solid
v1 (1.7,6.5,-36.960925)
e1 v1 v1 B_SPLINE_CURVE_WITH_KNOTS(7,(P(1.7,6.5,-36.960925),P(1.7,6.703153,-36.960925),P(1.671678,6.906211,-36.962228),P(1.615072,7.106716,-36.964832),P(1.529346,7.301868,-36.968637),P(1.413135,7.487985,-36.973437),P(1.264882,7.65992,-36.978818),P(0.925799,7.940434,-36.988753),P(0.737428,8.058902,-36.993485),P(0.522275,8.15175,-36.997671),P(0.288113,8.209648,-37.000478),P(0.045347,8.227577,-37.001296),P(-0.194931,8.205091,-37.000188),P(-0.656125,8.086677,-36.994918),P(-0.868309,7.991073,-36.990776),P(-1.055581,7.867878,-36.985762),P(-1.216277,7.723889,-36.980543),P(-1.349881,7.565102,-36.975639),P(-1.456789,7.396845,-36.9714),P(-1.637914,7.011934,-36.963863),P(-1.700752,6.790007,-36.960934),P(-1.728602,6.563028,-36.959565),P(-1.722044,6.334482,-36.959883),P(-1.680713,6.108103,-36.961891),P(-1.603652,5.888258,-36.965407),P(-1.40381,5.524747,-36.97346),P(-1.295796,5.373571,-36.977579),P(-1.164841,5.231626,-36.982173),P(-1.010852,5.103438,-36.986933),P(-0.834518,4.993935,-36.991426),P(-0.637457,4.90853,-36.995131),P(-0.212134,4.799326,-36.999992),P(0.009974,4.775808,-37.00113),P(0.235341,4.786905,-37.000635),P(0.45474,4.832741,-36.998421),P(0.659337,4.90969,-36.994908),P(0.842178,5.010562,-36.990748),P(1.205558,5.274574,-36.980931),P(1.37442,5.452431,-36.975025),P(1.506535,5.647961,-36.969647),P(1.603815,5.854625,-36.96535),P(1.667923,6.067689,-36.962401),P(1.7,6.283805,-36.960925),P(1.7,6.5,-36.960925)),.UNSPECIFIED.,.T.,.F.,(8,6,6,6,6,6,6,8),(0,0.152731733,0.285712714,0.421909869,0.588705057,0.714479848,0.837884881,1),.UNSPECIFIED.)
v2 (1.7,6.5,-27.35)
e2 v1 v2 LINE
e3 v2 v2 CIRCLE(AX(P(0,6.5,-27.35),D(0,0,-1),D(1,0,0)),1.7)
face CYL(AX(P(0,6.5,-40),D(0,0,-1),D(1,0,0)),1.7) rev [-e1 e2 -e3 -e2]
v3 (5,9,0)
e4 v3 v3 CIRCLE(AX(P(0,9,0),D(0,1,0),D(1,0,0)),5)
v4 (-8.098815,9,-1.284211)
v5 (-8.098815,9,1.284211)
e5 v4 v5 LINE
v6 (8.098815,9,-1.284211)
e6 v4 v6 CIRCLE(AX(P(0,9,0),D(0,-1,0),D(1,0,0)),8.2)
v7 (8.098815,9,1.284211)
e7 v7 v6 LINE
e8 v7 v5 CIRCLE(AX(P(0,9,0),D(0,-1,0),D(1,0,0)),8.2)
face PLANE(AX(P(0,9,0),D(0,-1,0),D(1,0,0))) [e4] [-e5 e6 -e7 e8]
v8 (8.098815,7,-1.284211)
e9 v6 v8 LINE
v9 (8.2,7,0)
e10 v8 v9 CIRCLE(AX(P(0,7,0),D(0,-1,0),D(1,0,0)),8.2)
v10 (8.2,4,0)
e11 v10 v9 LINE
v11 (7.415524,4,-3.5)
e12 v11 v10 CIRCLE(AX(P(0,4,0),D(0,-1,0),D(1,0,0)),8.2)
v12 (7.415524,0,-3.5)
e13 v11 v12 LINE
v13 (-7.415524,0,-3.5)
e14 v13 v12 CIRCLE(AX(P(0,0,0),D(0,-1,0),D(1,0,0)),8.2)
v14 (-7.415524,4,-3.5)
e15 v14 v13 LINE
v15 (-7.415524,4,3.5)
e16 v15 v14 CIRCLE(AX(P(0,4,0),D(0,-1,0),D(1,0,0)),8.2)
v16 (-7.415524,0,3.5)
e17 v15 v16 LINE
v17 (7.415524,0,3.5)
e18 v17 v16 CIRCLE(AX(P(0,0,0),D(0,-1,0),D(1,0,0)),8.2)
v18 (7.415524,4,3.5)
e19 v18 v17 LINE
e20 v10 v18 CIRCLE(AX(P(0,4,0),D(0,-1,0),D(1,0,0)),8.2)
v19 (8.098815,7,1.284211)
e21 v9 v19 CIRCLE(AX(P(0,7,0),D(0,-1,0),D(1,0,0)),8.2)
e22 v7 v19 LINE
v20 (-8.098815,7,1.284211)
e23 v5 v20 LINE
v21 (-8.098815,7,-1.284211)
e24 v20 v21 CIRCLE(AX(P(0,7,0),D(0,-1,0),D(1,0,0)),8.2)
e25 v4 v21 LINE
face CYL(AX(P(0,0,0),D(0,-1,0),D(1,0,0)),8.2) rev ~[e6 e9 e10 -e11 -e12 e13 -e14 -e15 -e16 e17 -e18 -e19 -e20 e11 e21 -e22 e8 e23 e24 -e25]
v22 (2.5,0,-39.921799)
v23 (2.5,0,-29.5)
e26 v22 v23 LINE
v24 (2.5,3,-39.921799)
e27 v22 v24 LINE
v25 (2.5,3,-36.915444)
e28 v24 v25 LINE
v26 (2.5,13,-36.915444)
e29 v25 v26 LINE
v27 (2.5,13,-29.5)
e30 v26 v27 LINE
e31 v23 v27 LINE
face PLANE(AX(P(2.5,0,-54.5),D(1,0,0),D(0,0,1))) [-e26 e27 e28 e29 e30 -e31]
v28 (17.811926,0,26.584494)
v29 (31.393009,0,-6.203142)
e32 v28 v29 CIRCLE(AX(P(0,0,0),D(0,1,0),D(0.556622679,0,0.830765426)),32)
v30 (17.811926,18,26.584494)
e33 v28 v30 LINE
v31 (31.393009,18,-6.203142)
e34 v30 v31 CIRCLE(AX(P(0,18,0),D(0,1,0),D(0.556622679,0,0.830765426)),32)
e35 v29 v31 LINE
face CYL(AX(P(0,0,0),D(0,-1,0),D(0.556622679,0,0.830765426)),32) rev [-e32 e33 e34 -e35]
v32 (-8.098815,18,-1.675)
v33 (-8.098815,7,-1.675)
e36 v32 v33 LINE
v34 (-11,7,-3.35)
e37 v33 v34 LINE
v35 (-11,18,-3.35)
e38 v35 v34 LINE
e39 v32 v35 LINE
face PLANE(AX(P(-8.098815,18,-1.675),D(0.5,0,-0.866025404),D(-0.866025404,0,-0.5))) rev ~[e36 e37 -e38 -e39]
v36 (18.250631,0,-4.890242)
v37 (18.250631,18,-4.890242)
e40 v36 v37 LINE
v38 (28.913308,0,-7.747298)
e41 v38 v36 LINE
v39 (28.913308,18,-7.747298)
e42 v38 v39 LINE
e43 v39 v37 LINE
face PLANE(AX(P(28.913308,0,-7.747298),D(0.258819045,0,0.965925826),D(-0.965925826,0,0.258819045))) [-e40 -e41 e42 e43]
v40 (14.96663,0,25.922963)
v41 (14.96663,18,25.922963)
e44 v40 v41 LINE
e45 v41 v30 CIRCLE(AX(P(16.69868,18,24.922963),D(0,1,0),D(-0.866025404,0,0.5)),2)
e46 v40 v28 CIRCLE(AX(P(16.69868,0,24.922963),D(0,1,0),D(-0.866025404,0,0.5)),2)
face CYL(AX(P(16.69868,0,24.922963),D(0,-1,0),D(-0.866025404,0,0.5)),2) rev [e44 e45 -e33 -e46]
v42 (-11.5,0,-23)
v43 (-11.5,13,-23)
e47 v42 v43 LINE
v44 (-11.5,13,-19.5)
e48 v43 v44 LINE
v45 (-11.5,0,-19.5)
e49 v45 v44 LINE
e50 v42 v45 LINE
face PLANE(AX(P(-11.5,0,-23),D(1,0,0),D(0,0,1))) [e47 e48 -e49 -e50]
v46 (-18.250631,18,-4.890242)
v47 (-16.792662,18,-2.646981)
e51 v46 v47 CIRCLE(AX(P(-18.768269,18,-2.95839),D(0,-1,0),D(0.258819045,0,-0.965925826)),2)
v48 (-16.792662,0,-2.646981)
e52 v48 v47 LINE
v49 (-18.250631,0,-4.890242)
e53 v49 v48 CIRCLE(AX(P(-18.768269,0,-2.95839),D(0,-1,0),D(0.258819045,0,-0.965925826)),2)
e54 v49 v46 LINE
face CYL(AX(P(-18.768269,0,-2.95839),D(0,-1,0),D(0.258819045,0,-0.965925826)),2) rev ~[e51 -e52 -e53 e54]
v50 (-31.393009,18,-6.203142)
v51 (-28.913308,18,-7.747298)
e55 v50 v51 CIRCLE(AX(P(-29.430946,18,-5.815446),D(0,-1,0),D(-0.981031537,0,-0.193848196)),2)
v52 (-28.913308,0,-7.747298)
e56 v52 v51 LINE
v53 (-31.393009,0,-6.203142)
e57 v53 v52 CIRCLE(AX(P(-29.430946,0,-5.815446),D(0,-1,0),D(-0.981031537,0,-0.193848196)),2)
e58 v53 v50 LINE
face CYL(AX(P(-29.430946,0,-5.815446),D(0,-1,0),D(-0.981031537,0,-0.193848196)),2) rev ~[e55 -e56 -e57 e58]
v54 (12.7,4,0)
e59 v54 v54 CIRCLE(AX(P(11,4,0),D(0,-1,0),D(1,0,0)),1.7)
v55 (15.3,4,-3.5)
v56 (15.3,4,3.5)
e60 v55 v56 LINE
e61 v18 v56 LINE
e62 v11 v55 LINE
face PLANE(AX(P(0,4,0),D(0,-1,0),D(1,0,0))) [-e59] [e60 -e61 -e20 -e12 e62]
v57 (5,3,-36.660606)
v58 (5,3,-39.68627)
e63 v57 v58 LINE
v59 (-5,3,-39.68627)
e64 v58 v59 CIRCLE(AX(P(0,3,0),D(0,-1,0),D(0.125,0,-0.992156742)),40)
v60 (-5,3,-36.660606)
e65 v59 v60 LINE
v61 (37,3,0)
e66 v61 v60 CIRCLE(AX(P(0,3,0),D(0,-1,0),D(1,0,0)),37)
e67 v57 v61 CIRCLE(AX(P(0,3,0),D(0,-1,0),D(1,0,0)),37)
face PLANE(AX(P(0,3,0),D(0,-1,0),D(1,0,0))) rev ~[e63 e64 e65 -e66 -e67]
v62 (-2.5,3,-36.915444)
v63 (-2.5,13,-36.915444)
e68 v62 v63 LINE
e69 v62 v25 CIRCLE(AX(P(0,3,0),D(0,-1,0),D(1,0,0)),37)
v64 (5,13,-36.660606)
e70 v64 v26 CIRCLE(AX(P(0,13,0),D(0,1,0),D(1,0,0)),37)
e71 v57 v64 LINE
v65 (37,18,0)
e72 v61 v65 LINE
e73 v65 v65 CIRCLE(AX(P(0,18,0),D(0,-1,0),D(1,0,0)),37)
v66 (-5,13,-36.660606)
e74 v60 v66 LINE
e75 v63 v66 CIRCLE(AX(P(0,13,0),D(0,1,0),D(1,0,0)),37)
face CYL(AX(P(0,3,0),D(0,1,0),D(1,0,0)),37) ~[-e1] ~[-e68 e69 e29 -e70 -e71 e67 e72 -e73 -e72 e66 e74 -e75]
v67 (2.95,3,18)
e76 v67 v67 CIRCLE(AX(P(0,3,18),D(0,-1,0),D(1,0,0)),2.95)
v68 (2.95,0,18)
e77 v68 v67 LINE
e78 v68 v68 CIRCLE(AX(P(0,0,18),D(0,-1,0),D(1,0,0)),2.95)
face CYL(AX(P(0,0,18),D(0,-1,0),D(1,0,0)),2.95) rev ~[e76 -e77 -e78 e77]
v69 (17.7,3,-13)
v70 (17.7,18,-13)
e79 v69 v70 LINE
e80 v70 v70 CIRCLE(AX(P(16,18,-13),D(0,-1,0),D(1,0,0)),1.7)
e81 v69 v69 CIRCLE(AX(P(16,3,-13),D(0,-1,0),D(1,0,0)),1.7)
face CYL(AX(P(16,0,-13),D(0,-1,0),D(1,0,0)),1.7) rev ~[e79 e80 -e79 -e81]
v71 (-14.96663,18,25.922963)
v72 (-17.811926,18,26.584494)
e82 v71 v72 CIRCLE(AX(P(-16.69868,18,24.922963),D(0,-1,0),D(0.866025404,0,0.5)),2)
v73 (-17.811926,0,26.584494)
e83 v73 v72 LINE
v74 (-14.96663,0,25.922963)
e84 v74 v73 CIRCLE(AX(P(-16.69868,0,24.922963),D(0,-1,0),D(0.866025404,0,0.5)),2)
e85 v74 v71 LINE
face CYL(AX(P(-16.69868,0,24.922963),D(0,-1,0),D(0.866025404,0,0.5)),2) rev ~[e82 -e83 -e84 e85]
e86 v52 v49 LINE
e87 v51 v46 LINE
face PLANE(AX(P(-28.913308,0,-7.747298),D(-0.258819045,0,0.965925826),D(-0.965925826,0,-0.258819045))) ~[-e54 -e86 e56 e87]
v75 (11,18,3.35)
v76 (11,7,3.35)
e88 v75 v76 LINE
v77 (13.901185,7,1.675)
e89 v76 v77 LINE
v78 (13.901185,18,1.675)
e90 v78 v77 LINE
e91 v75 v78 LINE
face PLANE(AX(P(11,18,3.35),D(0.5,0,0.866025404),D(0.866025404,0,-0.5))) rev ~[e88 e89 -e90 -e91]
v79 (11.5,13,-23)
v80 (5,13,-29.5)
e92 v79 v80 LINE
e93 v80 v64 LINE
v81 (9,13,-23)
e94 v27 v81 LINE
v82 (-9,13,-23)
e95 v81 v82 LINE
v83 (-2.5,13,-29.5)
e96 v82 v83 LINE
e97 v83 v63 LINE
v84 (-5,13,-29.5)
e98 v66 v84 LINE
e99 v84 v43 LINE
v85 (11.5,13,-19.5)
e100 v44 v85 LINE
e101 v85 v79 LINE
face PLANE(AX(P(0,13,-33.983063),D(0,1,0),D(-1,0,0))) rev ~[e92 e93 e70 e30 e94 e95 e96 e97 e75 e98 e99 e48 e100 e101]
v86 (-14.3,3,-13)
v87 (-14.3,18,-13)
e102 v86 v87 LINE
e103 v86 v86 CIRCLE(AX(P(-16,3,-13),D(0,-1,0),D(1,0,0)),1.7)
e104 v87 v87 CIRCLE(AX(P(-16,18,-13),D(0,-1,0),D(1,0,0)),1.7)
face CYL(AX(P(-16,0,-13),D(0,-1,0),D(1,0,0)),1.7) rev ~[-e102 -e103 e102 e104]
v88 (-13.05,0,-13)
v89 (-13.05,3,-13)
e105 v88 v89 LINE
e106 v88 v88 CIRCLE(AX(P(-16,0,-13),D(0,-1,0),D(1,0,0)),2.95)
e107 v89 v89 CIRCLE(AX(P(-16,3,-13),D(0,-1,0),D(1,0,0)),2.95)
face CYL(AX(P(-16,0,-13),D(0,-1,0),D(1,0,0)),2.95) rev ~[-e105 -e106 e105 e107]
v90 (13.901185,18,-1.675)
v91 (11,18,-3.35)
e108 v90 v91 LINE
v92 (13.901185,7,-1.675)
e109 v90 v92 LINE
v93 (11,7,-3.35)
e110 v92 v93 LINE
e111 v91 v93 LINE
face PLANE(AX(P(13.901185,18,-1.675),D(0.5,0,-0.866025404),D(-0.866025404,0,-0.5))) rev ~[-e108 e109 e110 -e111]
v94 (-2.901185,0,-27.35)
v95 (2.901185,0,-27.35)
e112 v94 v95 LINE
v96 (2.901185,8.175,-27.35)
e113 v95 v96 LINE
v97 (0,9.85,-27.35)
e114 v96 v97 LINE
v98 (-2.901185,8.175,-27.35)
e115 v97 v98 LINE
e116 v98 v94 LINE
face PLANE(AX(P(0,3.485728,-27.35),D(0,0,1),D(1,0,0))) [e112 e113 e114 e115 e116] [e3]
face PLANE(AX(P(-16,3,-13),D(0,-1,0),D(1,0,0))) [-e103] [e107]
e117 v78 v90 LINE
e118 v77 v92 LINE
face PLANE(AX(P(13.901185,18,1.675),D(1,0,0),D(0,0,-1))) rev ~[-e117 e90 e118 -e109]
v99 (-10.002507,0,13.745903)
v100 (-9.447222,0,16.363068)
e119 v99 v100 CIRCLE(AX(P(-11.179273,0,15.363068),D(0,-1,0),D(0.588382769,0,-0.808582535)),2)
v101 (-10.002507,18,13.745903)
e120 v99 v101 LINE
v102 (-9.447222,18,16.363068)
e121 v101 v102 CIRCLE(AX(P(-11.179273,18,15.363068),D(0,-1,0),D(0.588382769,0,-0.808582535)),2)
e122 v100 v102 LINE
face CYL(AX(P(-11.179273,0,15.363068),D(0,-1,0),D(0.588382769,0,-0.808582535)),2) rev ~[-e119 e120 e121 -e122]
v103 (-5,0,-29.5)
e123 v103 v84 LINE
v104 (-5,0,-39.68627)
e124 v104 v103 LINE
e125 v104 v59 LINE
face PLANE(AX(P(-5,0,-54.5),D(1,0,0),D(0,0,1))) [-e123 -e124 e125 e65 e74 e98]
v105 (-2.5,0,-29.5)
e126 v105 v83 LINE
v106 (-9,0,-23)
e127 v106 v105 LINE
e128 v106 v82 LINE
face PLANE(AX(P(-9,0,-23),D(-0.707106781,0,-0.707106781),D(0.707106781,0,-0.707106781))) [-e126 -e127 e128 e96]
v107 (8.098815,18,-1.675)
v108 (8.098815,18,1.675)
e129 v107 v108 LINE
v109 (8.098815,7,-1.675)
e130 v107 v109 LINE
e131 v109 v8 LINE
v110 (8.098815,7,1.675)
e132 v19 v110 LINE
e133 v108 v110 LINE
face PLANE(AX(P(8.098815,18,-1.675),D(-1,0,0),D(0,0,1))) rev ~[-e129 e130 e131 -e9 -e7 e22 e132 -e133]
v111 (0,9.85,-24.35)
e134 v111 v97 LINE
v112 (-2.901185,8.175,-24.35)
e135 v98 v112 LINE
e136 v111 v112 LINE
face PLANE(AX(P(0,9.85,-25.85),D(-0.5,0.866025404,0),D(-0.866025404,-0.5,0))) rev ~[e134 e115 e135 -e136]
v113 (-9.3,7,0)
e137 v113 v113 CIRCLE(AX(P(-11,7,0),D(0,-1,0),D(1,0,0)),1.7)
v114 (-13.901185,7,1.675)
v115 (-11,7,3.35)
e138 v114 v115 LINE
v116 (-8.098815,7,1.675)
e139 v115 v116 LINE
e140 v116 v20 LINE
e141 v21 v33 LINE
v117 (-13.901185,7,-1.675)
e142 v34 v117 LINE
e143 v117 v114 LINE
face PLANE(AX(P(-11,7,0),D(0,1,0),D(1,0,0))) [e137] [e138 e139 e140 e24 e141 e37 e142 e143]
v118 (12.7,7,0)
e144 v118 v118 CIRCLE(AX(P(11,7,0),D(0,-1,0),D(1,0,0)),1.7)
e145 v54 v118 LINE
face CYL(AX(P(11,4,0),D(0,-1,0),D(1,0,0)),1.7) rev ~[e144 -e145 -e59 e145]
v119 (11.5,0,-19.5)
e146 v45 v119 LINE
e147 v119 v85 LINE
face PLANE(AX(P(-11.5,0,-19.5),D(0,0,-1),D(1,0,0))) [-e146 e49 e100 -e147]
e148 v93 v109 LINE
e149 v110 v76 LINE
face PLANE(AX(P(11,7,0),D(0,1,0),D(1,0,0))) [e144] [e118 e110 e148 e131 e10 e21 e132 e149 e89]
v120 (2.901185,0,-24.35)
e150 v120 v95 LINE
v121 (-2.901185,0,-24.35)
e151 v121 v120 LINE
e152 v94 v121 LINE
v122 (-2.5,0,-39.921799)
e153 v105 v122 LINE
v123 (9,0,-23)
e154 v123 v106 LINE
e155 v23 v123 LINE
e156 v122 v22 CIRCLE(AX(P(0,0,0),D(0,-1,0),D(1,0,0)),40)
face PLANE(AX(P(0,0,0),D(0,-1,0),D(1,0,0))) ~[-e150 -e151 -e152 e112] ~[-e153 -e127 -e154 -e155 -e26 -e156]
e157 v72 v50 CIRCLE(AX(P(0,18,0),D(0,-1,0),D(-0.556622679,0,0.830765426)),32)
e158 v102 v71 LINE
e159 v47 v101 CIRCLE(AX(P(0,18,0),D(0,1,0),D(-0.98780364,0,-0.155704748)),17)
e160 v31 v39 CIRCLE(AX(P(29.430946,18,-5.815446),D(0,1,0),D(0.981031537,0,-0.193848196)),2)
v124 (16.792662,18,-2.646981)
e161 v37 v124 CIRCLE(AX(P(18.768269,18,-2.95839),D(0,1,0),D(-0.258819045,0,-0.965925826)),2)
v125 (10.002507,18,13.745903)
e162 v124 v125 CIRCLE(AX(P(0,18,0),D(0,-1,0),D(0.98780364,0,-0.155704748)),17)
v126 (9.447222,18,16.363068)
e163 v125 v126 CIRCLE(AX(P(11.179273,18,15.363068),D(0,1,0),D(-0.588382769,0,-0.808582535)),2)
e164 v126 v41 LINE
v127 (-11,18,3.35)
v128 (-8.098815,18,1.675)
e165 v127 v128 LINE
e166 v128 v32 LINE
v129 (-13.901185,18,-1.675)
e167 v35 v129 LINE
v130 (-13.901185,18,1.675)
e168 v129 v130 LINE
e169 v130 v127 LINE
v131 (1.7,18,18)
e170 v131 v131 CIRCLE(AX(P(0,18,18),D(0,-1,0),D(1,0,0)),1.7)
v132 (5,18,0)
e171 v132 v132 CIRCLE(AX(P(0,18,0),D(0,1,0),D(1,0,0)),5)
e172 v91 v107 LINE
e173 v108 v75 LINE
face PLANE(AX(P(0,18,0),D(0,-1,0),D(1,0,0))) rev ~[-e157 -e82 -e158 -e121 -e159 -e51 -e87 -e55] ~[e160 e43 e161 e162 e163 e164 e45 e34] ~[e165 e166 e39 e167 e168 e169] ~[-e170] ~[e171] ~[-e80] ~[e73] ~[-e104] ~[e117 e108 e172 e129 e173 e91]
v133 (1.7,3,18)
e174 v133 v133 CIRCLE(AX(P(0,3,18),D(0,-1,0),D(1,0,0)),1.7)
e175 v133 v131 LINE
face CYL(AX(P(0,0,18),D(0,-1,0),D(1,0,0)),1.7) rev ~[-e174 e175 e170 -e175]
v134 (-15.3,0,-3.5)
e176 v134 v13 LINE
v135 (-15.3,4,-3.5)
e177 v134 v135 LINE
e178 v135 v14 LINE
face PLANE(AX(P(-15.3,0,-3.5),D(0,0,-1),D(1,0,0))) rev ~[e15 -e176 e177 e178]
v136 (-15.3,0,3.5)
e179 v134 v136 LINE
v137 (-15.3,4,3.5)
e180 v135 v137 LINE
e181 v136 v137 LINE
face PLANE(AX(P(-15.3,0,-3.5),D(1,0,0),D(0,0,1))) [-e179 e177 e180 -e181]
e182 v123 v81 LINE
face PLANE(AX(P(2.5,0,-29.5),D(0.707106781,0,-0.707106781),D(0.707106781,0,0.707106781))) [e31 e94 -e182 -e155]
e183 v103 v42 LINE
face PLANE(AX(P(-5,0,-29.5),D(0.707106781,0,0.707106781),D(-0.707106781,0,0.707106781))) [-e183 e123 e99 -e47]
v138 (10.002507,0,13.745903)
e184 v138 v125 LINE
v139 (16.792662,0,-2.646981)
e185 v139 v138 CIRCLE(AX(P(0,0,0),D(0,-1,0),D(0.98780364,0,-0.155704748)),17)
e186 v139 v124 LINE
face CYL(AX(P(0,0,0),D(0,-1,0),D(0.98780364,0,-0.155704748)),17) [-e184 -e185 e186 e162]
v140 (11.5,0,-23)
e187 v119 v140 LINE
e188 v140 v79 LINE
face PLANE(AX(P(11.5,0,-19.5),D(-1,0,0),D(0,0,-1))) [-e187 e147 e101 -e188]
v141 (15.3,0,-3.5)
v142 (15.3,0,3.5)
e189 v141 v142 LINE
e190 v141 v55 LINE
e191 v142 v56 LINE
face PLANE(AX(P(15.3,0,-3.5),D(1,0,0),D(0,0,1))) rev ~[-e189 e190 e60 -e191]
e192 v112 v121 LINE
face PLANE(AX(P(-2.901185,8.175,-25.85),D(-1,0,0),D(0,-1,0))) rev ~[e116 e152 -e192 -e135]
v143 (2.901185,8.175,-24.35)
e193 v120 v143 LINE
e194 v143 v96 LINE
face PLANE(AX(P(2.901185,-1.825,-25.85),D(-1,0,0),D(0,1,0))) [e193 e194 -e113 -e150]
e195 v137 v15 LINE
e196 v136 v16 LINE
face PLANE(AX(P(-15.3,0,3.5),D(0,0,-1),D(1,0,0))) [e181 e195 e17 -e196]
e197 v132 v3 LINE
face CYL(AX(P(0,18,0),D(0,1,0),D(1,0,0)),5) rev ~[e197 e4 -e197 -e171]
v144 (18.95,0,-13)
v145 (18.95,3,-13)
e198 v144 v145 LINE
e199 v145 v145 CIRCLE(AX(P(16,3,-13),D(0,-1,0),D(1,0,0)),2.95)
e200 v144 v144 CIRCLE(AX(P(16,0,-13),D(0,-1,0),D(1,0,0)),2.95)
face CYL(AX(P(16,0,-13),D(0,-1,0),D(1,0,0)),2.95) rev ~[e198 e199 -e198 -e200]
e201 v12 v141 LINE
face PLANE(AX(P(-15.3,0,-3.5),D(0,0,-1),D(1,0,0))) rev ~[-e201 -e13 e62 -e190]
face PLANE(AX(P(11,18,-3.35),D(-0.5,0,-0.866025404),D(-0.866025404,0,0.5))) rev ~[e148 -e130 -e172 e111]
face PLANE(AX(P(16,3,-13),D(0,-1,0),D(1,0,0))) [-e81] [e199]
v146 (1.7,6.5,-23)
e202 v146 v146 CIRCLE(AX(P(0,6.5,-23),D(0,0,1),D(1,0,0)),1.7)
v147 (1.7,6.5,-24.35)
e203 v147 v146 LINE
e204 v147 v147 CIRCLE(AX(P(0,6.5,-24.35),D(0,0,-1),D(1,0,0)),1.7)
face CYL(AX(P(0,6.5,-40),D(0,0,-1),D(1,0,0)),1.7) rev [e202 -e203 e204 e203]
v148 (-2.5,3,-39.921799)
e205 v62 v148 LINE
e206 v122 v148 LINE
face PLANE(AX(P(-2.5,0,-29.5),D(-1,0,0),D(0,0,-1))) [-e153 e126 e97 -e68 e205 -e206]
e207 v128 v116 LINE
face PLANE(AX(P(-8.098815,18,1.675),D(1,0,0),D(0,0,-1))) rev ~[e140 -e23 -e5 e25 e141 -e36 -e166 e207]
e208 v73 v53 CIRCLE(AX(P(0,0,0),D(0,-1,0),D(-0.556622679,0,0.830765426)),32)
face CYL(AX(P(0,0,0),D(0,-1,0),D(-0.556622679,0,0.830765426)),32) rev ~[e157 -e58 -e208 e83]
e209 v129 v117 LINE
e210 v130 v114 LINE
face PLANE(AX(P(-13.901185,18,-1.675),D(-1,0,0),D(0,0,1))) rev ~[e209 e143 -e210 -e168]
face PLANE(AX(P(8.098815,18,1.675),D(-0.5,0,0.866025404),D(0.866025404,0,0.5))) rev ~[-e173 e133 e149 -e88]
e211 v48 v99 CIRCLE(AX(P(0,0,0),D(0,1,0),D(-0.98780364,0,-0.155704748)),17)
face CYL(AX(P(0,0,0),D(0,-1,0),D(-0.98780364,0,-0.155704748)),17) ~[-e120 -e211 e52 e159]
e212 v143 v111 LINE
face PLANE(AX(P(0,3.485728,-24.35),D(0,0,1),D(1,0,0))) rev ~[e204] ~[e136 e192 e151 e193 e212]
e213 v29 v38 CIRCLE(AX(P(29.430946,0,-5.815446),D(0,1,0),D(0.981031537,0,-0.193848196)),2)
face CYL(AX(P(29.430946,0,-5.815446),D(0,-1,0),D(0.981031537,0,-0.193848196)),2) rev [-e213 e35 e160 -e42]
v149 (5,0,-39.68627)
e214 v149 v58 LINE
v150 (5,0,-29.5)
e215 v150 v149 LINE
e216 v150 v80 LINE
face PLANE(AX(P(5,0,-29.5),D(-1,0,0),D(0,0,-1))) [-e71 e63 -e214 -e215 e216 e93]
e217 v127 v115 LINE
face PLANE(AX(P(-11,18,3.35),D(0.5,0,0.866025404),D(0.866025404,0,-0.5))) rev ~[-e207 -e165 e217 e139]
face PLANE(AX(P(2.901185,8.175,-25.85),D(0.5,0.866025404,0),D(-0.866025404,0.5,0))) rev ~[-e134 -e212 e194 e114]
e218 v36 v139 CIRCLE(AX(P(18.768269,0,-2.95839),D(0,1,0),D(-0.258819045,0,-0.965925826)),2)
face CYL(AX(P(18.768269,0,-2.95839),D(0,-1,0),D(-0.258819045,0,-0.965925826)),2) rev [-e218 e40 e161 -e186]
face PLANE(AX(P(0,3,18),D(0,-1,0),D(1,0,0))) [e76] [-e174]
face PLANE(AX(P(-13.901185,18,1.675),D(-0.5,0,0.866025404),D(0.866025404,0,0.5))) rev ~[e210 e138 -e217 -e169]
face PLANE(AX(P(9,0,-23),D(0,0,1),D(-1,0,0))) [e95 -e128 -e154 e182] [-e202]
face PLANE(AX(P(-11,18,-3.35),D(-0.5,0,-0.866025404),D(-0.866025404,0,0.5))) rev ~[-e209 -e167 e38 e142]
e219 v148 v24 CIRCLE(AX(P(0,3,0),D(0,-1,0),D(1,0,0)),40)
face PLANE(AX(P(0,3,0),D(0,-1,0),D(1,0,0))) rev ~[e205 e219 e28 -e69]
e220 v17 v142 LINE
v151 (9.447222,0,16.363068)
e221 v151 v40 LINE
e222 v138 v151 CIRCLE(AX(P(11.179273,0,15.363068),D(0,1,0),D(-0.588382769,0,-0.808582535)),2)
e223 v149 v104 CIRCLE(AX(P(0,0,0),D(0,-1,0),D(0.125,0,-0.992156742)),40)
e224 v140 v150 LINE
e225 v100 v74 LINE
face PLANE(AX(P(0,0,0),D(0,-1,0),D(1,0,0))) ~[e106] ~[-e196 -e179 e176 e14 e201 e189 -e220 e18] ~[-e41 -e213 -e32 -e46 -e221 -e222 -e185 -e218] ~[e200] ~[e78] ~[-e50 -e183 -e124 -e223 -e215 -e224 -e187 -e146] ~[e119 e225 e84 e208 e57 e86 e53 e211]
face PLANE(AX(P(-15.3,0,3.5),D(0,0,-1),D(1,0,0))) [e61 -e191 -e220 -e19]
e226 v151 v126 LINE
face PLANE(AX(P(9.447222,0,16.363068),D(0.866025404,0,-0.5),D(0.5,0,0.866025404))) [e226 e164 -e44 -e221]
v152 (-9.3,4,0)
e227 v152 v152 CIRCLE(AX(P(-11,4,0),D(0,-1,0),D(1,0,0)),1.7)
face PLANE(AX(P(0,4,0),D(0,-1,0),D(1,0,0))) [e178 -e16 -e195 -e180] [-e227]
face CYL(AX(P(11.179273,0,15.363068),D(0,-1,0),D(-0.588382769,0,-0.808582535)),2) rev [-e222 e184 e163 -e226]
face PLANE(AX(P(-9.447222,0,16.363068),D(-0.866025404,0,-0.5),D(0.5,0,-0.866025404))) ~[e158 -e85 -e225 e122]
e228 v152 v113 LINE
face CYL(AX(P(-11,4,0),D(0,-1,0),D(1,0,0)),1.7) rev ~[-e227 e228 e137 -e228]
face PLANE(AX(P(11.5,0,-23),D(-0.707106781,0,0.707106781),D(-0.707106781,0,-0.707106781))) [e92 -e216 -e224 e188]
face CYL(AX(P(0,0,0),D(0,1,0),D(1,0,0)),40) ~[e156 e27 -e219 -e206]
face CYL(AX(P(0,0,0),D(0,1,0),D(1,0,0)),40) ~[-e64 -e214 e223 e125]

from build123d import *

# Parameters (mm, degrees)
CORTAR_EXTRUIR1_DEPTH      = 13
CROQUIS3_R                 = 1.7
CORTAR_EXTRUIR2_DEPTH      = 17
CORTAR_EXTRUIR3_DEPTH      = 1.5
CORTAR_EXTRUIR3_DEPTH_BACK = 1.5
CROQUIS5_R                 = 5
CORTAR_EXTRUIR4_DEPTH      = 18
CROQUIS6_R                 = 8.2
CORTAR_EXTRUIR5_DEPTH      = 9
CROQUIS7_W                 = 30.6
CROQUIS7_H                 = 7
CORTAR_EXTRUIR6_DEPTH      = 4
CROQUIS8_R                 = 1.7
CORTAR_EXTRUIR7_DEPTH      = 14
CORTAR_EXTRUIR8_DEPTH      = 11
CORTAR_EXTRUIR9_DEPTH      = 18
CROQUIS11_R                = 1.7
CORTAR_EXTRUIR10_DEPTH     = 18
CROQUIS12_R                = 2.95
CORTAR_EXTRUIR11_DEPTH     = 3


with BuildPart() as part:
    # Croquis1 → Revolución1 (revolve)
    with BuildSketch(Plane.XY):
        Polygon((0, 0), (40, 0), (40, 3), (37, 3), (37, 18), (0, 18), align=None)
    revolve(axis=Axis((0, 18, 0), (0, -1, 0)))

    # Croquis2 → Cortar-Extruir1 (cut)
    with BuildSketch(Plane.XZ):
        Polygon((-11.5, -19.5), (11.5, -19.5), (11.5, -23), (5, -29.5), (5, -54.5), (2.5, -54.5), (2.5, -29.5), (9, -23), (-9, -23), (-2.5, -29.5), (-2.5, -54.5), (-5, -54.5), (-5, -29.5), (-11.5, -23), align=None)
    extrude(amount=-CORTAR_EXTRUIR1_DEPTH, mode=Mode.SUBTRACT)

    # Croquis3 → Cortar-Extruir2 (cut)
    with BuildSketch(Plane.XY.offset(-40)):
        with Locations((0, 6.5)):
            Circle(CROQUIS3_R)
    extrude(amount=CORTAR_EXTRUIR2_DEPTH, mode=Mode.SUBTRACT)

    # Croquis4 → Cortar-Extruir3 (cut, two sides)
    with BuildSketch(Plane.XY.offset(-25.85)) as cortar_extruir3_sk:
        Polygon((0, 9.85), (-2.901185103, 8.175), (-2.901185103, 4.825), (-2.901185103, -1.825), (2.901185103, -1.825), (2.901185103, 4.825), (2.901185103, 8.175), align=None)
    extrude(amount=CORTAR_EXTRUIR3_DEPTH, mode=Mode.SUBTRACT)
    extrude(cortar_extruir3_sk.sketch, amount=-CORTAR_EXTRUIR3_DEPTH_BACK, mode=Mode.SUBTRACT)

    # Croquis5 → Cortar-Extruir4 (cut)
    with BuildSketch(Plane(origin=(0, 18, 0), x_dir=(1, 0, 0), z_dir=(0, 1, 0))):
        Circle(CROQUIS5_R)
    extrude(amount=-CORTAR_EXTRUIR4_DEPTH, mode=Mode.SUBTRACT)

    # Croquis6 → Cortar-Extruir5 (cut)
    with BuildSketch(Plane.XZ):
        Circle(CROQUIS6_R)
    extrude(amount=-CORTAR_EXTRUIR5_DEPTH, mode=Mode.SUBTRACT)

    # Croquis7 → Cortar-Extruir6 (cut)
    with BuildSketch(Plane.XZ):
        Rectangle(CROQUIS7_W, CROQUIS7_H)
    extrude(amount=-CORTAR_EXTRUIR6_DEPTH, mode=Mode.SUBTRACT)

    # Croquis8 → Cortar-Extruir7 (cut)
    with BuildSketch(Plane.XZ.offset(-4)):
        with Locations((-11, 0)):
            Circle(CROQUIS8_R)
        with Locations((11, 0)):
            Circle(CROQUIS8_R)
    extrude(amount=-CORTAR_EXTRUIR7_DEPTH, mode=Mode.SUBTRACT)

    # Croquis9 → Cortar-Extruir8 (cut)
    with BuildSketch(Plane(origin=(0, 18, 0), x_dir=(1, 0, 0), z_dir=(0, 1, 0))):
        Polygon((-11, 3.35), (-13.901185103, 1.675), (-13.901185103, -1.675), (-11, -3.35), (-8.098814897, -1.675), (-8.098814897, 1.675), align=None)
        Polygon((11, 3.35), (8.098814897, 1.675), (8.098814897, -1.675), (11, -3.35), (13.901185103, -1.675), (13.901185103, 1.675), align=None)
    extrude(amount=-CORTAR_EXTRUIR8_DEPTH, mode=Mode.SUBTRACT)

    # Croquis10 → Cortar-Extruir9 (cut)
    with BuildSketch(Plane.XZ):
        with BuildLine():
            Line((9.447221814, 16.363068172), (14.966629547, 25.922962794))
            ThreePointArc((14.966629547, 25.922962794), (16.245761141, 26.871003909), (17.811925712, 26.584493647))
            ThreePointArc((17.811925712, 26.584493647), (29.56414504, 12.245869836), (31.393009189, -6.203142275))
            ThreePointArc((31.393009189, -6.203142275), (30.48815695, -7.513181213), (28.913308024, -7.747297536))
            Line((28.913308024, -7.747297536), (18.250631073, -4.890241857))
            ThreePointArc((18.250631073, -4.890241857), (17.091330505, -4.048287785), (16.792661883, -2.64698071))
            ThreePointArc((16.792661883, -2.64698071), (15.705952053, 6.50561835), (10.002507082, 13.745903101))
            ThreePointArc((10.002507082, 13.745903101), (9.222823954, 14.947967445), (9.447221814, 16.363068172))
        make_face()
    cortar_extruir9 = extrude(amount=-CORTAR_EXTRUIR9_DEPTH, mode=Mode.SUBTRACT)

    # Simetría1: Cortar-Extruir9 across plane
    add(cortar_extruir9.mirror(Plane(origin=(0, 0, 0), x_dir=(0, 0, 1), z_dir=(1, 0, 0))), mode=Mode.SUBTRACT)

    # Croquis11 → Cortar-Extruir10 (cut)
    with BuildSketch(Plane.XZ):
        with Locations((-16, -13)):
            Circle(CROQUIS11_R)
        with Locations((16, -13)):
            Circle(CROQUIS11_R)
        with Locations((0, 18)):
            Circle(CROQUIS11_R)
    extrude(amount=-CORTAR_EXTRUIR10_DEPTH, mode=Mode.SUBTRACT)

    # Croquis12 → Cortar-Extruir11 (cut)
    with BuildSketch(Plane.XZ):
        with Locations((-16, -13)):
            Circle(CROQUIS12_R)
        with Locations((16, -13)):
            Circle(CROQUIS12_R)
        with Locations((0, 18)):
            Circle(CROQUIS12_R)
    extrude(amount=-CORTAR_EXTRUIR11_DEPTH, mode=Mode.SUBTRACT)


solid = part.part
